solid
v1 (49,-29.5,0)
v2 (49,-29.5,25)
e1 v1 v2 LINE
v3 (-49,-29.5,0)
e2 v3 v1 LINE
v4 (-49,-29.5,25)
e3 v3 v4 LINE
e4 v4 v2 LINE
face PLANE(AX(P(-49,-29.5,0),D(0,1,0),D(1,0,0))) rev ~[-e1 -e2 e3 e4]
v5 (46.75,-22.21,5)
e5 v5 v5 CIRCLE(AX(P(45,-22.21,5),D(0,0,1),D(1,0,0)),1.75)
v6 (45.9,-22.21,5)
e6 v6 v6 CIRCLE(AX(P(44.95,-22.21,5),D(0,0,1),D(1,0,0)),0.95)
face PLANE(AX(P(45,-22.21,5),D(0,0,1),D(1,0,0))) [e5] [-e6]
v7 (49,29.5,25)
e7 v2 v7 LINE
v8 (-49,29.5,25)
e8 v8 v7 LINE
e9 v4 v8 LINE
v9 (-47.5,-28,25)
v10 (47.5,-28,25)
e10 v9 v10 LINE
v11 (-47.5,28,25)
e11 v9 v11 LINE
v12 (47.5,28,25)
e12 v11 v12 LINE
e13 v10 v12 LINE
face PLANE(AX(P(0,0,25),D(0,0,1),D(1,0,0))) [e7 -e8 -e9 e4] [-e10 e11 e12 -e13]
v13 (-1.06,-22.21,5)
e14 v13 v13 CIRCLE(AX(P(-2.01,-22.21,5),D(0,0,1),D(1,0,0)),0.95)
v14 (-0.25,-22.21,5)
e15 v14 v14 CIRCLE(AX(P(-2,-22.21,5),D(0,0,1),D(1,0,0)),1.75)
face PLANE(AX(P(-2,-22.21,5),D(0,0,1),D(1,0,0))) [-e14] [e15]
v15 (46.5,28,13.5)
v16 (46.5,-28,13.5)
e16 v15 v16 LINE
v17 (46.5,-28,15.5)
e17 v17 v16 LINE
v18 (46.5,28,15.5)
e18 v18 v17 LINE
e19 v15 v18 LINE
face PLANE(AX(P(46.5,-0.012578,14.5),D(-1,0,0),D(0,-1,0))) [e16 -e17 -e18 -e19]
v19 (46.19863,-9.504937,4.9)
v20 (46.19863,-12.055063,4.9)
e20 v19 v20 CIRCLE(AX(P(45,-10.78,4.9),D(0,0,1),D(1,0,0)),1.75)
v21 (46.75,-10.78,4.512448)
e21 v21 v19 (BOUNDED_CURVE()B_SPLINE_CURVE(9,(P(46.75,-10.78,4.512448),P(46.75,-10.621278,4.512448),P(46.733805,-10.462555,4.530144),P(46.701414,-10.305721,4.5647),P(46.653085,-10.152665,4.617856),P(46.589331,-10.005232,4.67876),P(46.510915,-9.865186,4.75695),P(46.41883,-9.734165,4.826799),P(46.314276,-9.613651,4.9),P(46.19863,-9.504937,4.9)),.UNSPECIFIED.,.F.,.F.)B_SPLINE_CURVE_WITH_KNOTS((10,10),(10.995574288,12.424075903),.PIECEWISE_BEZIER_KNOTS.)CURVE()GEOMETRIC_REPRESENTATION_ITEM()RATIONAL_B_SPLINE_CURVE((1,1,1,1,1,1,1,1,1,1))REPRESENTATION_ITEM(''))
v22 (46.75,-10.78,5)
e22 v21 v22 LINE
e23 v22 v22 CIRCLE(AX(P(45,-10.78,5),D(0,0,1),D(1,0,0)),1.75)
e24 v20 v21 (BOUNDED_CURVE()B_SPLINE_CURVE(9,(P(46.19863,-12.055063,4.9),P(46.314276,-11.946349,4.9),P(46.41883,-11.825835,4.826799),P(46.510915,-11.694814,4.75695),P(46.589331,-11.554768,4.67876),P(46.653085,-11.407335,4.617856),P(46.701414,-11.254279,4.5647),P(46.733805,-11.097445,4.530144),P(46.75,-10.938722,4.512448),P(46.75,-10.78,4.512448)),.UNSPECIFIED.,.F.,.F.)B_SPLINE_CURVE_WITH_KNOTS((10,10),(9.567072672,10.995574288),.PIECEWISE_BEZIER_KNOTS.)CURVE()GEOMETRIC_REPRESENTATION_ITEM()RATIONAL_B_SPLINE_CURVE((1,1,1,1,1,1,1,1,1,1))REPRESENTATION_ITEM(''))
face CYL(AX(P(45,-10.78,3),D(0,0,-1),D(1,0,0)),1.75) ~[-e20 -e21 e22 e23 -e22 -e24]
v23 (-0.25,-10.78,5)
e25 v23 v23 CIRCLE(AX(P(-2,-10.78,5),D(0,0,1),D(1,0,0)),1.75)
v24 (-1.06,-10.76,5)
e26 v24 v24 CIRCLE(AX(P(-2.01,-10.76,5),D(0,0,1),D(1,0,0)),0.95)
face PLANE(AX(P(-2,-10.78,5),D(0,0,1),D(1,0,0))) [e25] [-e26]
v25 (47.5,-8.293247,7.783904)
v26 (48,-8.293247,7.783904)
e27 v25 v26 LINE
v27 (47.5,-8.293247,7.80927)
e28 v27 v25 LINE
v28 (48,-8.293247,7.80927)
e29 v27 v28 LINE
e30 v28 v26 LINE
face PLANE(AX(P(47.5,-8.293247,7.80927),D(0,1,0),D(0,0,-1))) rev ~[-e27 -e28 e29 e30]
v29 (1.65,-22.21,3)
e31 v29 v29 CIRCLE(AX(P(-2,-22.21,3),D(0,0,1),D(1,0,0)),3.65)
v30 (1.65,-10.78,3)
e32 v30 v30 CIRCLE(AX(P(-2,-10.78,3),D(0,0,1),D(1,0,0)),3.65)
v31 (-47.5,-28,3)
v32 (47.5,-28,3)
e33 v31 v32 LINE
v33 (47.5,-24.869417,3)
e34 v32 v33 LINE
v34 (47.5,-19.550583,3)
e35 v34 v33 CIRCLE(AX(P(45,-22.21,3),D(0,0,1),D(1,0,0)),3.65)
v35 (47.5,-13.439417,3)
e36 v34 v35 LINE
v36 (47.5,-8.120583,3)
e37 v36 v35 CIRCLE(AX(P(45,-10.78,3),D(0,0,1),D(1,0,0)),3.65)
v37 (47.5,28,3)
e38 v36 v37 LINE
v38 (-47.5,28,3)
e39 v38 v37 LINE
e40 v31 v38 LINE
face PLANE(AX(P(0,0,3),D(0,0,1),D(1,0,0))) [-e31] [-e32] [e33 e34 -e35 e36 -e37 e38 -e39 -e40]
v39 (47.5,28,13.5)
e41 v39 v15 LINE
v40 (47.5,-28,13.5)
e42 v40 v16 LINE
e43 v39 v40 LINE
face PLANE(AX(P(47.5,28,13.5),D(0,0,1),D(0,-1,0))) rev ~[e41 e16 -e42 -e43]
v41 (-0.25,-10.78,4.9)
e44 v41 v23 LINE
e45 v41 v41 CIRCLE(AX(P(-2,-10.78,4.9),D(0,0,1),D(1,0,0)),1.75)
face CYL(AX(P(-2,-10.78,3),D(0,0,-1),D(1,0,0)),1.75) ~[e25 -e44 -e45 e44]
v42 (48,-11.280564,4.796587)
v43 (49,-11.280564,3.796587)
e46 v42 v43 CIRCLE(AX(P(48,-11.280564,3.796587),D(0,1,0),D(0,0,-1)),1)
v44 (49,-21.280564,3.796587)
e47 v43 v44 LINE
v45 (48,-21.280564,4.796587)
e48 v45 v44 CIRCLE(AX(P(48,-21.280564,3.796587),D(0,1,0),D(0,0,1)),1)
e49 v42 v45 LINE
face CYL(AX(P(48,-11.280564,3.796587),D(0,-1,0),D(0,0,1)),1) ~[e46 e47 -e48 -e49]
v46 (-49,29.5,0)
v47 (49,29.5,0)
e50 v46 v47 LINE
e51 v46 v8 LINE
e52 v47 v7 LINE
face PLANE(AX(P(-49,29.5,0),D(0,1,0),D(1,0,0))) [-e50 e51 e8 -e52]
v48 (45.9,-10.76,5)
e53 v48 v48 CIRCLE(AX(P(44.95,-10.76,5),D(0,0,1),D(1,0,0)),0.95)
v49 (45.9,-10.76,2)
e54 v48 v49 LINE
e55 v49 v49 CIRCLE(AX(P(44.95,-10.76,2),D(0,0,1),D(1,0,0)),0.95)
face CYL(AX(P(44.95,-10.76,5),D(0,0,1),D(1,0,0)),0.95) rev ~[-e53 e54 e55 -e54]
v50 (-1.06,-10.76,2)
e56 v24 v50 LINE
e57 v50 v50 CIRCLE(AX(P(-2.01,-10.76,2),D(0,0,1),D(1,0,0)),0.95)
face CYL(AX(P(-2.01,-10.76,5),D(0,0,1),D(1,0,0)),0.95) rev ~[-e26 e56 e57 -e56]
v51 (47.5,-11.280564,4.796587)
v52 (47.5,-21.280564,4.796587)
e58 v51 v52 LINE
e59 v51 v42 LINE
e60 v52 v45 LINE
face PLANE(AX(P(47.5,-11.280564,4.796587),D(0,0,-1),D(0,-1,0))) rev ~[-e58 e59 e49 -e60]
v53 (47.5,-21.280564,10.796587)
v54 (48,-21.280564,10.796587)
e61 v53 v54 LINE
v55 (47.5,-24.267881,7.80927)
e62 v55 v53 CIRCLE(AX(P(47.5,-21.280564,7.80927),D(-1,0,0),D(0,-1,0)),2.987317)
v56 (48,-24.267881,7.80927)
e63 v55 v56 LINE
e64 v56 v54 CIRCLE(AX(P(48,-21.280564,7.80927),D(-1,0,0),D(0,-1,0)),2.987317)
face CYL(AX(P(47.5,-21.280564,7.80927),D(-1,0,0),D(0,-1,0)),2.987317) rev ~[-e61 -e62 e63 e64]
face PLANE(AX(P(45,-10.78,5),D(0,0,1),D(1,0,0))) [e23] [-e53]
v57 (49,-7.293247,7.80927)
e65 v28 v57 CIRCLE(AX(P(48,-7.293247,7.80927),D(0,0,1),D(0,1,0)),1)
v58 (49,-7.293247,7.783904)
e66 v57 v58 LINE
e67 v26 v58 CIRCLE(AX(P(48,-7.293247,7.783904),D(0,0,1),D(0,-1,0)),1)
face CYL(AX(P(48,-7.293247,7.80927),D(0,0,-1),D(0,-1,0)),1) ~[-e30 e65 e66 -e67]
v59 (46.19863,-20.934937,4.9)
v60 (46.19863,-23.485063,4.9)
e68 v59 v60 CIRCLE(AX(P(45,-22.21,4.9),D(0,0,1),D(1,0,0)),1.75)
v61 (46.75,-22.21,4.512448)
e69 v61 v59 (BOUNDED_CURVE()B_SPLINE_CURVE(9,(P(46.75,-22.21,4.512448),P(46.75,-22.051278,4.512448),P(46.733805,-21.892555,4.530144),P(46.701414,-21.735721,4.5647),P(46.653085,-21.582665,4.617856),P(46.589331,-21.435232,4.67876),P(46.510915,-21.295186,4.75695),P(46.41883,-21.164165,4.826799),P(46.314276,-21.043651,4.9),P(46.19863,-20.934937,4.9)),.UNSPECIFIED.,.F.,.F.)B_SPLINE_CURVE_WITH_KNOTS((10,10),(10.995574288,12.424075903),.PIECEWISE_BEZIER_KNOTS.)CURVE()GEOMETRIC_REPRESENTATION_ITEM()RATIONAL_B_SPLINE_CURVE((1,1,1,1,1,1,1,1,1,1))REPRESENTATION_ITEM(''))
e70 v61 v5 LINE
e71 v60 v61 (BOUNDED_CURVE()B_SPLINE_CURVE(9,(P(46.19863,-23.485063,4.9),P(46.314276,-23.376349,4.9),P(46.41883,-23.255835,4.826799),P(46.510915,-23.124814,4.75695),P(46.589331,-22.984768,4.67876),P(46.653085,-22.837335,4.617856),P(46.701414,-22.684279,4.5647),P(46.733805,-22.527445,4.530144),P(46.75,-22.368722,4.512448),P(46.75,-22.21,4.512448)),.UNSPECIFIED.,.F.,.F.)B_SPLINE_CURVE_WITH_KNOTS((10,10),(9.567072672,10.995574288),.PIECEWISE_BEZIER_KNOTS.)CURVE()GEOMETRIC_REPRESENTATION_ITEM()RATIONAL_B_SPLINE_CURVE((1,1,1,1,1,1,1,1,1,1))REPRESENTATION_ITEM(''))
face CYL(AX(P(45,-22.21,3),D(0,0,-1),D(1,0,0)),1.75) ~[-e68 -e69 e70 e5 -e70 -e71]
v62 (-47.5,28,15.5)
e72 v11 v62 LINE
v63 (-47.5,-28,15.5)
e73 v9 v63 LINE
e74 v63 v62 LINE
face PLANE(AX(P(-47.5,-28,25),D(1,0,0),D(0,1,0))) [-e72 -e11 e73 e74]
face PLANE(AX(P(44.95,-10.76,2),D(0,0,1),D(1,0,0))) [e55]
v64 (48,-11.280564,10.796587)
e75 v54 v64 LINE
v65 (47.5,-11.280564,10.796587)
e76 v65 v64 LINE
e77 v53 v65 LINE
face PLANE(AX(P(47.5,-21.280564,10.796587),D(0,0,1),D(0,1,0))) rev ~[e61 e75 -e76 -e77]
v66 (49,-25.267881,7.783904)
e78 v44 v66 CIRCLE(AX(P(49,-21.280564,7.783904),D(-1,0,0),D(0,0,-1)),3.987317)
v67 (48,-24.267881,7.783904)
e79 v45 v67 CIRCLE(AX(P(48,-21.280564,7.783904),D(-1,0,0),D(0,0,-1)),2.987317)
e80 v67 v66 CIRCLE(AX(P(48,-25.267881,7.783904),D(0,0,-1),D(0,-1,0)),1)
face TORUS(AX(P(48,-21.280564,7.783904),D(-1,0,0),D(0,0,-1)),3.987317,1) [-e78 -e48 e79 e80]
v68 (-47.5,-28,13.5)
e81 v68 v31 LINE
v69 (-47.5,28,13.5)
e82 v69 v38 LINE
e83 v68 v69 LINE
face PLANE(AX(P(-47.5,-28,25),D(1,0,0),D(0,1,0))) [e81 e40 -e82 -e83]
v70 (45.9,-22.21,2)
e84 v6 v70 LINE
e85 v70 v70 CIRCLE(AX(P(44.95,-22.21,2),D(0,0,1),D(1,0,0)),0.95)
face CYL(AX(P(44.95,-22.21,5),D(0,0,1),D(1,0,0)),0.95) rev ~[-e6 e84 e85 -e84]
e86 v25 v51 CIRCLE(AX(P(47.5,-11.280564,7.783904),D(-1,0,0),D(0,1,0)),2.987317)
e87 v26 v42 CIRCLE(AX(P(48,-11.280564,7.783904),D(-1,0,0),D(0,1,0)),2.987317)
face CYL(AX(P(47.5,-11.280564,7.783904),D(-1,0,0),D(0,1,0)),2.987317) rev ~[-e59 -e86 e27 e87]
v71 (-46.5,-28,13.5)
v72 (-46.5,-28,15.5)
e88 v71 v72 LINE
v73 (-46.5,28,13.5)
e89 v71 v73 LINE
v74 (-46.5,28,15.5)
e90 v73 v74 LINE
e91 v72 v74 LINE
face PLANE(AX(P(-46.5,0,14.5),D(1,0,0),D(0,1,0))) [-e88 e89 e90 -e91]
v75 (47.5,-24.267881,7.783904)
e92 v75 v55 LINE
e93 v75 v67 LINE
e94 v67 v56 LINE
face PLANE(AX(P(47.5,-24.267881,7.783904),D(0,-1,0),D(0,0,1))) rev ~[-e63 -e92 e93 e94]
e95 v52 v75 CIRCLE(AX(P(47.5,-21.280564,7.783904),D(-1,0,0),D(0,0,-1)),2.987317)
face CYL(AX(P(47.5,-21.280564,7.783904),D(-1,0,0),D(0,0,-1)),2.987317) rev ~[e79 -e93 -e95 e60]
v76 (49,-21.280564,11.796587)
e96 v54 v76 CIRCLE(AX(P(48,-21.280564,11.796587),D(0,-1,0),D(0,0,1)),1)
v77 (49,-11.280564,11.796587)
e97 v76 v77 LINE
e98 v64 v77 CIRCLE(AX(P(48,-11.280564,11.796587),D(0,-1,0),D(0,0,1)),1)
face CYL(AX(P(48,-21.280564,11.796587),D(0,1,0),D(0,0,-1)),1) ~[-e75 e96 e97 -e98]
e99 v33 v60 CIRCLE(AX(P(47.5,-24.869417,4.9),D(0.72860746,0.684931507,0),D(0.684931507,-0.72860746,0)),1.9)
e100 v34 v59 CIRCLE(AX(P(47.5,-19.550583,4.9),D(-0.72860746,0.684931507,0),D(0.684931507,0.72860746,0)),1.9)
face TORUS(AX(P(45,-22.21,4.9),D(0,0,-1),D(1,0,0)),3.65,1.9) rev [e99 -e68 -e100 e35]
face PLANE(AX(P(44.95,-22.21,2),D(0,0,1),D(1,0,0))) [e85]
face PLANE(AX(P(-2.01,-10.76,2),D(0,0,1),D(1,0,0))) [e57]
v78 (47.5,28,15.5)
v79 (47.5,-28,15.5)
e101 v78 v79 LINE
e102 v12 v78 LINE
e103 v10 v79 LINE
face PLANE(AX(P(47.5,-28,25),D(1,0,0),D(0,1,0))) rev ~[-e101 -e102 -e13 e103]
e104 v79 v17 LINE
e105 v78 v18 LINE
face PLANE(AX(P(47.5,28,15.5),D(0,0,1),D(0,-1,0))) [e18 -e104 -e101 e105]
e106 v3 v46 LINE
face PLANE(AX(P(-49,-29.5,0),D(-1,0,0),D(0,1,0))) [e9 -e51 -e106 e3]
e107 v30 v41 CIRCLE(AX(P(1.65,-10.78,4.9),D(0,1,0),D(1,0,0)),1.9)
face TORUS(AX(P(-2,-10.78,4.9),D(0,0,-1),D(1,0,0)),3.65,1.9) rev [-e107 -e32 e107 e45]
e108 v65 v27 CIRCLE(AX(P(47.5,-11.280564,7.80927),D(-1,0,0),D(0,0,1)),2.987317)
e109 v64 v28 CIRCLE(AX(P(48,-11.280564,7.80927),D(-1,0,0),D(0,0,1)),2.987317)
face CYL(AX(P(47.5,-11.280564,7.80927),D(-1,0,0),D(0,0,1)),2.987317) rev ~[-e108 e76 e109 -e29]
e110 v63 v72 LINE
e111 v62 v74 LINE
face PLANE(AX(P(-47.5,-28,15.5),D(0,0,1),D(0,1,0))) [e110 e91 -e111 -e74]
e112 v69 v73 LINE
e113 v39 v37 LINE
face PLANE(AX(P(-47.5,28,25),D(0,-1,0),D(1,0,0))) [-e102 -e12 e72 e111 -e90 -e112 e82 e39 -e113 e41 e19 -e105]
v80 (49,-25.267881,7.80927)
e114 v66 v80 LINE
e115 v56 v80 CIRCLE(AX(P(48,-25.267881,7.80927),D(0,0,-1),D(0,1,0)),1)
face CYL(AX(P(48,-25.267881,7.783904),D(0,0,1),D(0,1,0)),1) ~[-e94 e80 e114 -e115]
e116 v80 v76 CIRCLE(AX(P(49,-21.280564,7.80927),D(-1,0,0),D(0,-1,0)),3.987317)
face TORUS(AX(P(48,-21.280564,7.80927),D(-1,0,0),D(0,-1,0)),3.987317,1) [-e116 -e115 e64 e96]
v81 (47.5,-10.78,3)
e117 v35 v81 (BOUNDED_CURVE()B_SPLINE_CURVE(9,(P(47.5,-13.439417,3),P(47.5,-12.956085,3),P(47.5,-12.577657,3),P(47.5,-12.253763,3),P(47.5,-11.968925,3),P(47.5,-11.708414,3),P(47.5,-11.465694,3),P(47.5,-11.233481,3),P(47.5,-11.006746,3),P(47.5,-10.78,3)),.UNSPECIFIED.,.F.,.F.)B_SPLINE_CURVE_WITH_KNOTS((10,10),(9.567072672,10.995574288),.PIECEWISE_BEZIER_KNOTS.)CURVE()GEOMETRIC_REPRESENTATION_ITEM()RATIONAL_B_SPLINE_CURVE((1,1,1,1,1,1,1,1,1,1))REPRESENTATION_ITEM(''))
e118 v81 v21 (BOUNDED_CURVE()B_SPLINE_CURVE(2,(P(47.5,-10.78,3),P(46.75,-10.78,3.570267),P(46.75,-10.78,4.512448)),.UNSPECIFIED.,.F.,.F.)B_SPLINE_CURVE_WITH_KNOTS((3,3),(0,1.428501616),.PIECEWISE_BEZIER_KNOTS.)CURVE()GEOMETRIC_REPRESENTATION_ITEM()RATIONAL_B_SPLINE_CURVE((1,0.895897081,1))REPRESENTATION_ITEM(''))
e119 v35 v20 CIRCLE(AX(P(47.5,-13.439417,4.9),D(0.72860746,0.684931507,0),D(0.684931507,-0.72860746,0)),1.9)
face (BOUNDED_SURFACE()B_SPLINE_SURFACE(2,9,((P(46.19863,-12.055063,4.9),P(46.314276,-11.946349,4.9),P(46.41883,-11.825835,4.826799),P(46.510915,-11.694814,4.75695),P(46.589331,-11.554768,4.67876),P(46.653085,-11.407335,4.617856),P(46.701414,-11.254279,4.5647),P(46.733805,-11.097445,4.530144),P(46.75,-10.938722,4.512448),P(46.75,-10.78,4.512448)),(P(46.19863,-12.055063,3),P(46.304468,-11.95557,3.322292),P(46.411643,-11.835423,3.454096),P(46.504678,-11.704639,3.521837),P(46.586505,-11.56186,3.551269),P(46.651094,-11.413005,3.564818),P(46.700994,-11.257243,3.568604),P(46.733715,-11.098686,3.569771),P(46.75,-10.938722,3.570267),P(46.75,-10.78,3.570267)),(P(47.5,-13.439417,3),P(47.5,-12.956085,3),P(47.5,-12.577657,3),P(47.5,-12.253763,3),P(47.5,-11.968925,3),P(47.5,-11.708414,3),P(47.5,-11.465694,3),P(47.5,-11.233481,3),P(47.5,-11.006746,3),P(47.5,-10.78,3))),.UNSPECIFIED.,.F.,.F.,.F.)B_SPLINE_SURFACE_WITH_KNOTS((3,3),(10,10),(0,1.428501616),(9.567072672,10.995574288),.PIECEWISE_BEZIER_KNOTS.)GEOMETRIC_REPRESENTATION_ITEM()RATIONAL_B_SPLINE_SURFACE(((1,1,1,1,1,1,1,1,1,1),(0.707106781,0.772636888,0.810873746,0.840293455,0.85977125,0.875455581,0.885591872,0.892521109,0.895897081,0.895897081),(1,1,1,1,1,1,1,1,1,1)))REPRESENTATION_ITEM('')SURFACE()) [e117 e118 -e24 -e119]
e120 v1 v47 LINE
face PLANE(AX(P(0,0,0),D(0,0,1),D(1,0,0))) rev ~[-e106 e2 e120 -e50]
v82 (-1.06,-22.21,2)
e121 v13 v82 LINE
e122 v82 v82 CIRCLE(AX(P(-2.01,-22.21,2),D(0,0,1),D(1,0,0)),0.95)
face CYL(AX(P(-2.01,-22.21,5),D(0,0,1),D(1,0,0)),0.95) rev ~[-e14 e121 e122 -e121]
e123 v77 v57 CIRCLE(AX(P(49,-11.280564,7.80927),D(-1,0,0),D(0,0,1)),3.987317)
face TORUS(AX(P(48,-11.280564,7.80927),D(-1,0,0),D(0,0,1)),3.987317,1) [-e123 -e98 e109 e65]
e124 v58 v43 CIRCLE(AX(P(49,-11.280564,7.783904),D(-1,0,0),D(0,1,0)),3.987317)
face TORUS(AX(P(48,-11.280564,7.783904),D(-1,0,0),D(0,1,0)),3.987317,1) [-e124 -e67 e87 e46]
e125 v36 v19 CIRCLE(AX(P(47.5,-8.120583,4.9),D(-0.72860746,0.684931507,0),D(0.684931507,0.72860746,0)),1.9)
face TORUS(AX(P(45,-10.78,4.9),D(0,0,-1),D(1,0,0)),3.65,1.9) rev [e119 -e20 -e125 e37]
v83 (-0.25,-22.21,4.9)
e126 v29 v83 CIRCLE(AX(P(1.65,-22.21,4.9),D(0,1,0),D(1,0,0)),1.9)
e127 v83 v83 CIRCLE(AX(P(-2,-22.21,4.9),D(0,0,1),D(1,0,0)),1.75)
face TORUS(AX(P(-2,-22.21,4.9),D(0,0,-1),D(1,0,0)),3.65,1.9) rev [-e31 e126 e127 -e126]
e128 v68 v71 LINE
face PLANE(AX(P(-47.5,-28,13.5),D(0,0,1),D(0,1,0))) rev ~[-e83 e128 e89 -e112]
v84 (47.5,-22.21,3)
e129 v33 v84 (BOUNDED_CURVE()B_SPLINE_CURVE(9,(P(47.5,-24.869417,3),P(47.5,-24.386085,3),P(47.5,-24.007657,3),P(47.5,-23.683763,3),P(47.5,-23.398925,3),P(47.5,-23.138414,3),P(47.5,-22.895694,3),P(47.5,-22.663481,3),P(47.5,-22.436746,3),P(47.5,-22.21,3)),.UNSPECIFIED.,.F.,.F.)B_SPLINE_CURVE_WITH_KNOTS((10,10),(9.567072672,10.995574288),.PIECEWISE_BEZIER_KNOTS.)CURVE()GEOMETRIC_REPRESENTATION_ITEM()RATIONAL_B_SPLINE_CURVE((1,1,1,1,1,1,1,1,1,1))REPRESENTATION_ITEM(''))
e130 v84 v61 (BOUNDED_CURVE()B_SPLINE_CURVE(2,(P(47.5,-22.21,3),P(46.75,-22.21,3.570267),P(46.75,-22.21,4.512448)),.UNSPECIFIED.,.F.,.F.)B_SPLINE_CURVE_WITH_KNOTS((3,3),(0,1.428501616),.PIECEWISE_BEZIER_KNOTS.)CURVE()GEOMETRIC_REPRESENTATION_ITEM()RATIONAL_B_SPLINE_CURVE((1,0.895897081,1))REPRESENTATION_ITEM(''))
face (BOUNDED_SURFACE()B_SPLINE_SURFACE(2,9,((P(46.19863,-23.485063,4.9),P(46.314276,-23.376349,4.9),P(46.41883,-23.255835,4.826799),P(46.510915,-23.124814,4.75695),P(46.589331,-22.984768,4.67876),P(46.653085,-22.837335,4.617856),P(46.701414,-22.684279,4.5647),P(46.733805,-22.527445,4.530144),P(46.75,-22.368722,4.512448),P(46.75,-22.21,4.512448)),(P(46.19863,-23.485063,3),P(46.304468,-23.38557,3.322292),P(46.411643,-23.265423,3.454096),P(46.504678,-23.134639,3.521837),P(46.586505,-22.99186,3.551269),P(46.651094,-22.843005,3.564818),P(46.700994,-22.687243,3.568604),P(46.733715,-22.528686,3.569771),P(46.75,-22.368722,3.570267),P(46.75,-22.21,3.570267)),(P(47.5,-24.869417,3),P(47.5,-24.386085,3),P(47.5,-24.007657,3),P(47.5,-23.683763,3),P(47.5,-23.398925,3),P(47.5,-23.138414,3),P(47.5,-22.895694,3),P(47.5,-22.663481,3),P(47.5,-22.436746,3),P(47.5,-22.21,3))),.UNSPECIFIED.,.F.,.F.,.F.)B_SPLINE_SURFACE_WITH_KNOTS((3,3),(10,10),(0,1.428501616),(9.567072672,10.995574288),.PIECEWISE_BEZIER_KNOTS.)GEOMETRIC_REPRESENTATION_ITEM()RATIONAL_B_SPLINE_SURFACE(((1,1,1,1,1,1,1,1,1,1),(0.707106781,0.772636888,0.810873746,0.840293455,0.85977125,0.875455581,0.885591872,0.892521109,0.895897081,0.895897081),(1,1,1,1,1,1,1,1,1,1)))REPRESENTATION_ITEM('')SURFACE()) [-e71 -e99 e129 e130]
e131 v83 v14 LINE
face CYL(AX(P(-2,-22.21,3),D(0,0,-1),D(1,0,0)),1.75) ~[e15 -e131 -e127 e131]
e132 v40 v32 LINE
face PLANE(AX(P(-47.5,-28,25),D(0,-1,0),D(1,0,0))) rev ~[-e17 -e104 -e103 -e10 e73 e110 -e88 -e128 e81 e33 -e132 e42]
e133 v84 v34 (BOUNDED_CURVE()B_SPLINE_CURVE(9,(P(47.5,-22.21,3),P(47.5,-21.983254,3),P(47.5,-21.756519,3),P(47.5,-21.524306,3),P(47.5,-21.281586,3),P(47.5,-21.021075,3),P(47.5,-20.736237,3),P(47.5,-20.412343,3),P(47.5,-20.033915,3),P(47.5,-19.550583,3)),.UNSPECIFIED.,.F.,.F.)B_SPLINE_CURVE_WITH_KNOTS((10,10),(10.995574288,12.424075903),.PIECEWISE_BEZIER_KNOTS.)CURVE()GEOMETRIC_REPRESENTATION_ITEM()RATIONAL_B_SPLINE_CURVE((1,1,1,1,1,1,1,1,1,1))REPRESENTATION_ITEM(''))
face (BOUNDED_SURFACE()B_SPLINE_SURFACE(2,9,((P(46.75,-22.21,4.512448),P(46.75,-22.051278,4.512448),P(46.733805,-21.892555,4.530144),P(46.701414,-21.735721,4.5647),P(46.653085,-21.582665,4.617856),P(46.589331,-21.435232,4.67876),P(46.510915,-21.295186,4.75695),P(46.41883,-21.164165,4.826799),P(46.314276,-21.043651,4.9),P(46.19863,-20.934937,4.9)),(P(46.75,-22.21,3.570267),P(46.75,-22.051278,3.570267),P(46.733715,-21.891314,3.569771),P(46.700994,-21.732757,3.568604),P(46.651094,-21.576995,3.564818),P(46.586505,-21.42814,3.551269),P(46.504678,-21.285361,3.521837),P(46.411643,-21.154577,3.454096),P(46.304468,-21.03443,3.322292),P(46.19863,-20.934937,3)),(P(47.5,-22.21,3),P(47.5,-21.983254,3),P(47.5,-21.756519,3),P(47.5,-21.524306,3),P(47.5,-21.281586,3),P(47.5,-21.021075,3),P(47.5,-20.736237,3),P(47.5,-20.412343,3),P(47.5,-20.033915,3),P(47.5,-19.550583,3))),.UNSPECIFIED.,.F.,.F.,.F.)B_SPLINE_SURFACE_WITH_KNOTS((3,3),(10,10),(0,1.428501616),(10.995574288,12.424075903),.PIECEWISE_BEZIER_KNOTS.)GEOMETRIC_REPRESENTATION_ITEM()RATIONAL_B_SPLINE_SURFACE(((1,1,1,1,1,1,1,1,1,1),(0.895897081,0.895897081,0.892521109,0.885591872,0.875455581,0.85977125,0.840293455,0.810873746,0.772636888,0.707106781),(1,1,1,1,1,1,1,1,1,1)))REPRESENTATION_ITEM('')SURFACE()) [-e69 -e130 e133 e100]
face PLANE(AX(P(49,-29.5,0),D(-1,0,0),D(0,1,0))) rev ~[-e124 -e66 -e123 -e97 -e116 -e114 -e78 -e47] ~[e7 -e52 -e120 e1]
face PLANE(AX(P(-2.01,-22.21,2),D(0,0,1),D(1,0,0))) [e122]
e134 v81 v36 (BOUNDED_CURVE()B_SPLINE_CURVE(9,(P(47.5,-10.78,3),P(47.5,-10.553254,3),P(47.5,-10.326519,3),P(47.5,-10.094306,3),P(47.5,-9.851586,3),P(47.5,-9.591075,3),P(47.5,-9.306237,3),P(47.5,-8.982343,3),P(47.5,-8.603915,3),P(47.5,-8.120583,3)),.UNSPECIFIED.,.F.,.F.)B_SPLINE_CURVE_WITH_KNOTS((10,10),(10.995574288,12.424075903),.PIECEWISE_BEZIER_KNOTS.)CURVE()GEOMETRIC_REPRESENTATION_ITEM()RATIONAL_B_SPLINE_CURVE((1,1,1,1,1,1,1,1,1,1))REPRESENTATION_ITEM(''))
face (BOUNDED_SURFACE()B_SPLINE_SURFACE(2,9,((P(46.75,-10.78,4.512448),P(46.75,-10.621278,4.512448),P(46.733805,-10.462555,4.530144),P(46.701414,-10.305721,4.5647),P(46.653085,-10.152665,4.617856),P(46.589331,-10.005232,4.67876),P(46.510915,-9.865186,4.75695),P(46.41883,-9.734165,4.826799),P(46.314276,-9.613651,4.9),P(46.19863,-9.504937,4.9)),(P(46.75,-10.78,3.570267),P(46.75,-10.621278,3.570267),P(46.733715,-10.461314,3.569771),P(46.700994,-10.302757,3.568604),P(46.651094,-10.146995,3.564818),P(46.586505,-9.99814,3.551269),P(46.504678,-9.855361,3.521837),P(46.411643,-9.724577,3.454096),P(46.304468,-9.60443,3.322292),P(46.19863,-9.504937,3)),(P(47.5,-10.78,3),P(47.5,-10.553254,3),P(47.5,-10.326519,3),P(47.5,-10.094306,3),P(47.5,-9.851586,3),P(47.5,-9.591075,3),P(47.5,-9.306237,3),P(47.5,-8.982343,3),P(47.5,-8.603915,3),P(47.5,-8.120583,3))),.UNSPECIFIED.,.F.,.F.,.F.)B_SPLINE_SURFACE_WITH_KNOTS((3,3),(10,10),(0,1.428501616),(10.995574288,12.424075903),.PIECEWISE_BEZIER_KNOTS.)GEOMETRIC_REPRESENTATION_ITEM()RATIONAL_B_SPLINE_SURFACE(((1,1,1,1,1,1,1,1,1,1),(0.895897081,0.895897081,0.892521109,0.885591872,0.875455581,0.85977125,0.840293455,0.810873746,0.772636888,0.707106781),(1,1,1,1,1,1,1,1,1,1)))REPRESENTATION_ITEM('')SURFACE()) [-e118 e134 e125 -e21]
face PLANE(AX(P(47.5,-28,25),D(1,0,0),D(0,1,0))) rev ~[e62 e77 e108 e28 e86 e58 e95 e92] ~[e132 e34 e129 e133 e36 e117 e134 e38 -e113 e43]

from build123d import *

# Parameters (mm, degrees)
SKETCH027_W     = 98
SKETCH027_H     = 59
PAD014_DEPTH    = 25
SKETCH028_W     = 95
SKETCH028_H     = 56
POCKET008_DEPTH = 22
SKETCH029_W     = 56
SKETCH029_H     = 2
PAD015_DEPTH    = 1
SKETCH030_W     = 56.025157
SKETCH030_H     = 2
PAD016_DEPTH    = 1
SKETCH031_R     = 1.75
PAD017_DEPTH    = 2
SKETCH032_R     = 0.95
POCKET009_DEPTH = 3
FILLET003_R     = 1.9
POCKET010_DEPTH = 3
FILLET004_R     = 1


with BuildPart() as part:
    # Sketch027 → Pad014 (new body)
    with BuildSketch(Plane.XY):
        Rectangle(SKETCH027_W, SKETCH027_H)
    extrude(amount=PAD014_DEPTH)

    # Sketch028 (on Face6 of Pad014) → Pocket008 (cut)
    with BuildSketch(Plane.XY.offset(25)):
        Rectangle(SKETCH028_W, SKETCH028_H)
    extrude(amount=-POCKET008_DEPTH, mode=Mode.SUBTRACT)

    # Sketch029 (on Face9 of Pocket008) → Pad015 (join)
    with BuildSketch(Plane.YZ.offset(-47.5)):
        with Locations((0, 14.5)):
            Rectangle(SKETCH029_W, SKETCH029_H)
    extrude(amount=PAD015_DEPTH)

    # Sketch030 (on Face7 of Pad015) → Pad016 (join)
    with BuildSketch(Plane(origin=(47.5, 0, 0), x_dir=(0, -1, 0), z_dir=(-1, 0, 0))):
        with Locations((0.0125785, 14.5)):
            Rectangle(SKETCH030_W, SKETCH030_H)
    extrude(amount=PAD016_DEPTH)

    # Sketch031 (on Face16 of Pad016) → Pad017 (join)
    with BuildSketch(Plane.XY.offset(3)):
        with Locations((-2, -10.78)):
            Circle(SKETCH031_R)
        with Locations((45, -10.78)):
            Circle(SKETCH031_R)
        with Locations((45, -22.21)):
            Circle(SKETCH031_R)
        with Locations((-2, -22.21)):
            Circle(SKETCH031_R)
    extrude(amount=PAD017_DEPTH)

    # Sketch032 (on Face26 of Pad017) → Pocket009 (cut)
    with BuildSketch(Plane.XY.offset(5)):
        with Locations((-2.01, -10.76)):
            Circle(SKETCH032_R)
        with Locations((-2.01, -22.21)):
            Circle(SKETCH032_R)
        with Locations((44.95, -22.21)):
            Circle(SKETCH032_R)
        with Locations((44.95, -10.76)):
            Circle(SKETCH032_R)
    extrude(amount=-POCKET009_DEPTH, mode=Mode.SUBTRACT)

    # Fillet003
    fillet003_edges = [part.edges().sort_by_distance(p)[0] for p in [
        (-3.75, -10.78, 3),
        (-3.75, -22.21, 3),
        (43.25, -10.78, 3),
        (43.25, -22.21, 3),
    ]]
    fillet(fillet003_edges, radius=FILLET003_R)

    # Sketch033 (on Face2 of Fillet003) → Pocket010 (cut)
    with BuildSketch(Plane(origin=(47.5, 0, 0), x_dir=(0, -1, 0), z_dir=(-1, 0, 0))):
        with BuildLine():
            Line((8.293246951, 7.809269951), (8.293246951, 7.783904049))
            ThreePointArc((8.293246951, 7.783904049), (9.1682118571, 5.6715519061), (11.280564, 4.796587))
            Line((11.280564, 4.796587), (21.280564, 4.796587))
            ThreePointArc((21.280564, 4.796587), (23.3929161429, 5.6715519061), (24.267881049, 7.783904049))
            Line((24.267881049, 7.783904049), (24.267881049, 7.809269951))
            ThreePointArc((24.267881049, 7.809269951), (23.3929161429, 9.9216220939), (21.280564, 10.796587))
            Line((21.280564, 10.796587), (11.280564, 10.796587))
            ThreePointArc((11.280564, 10.796587), (9.1682118571, 9.9216220939), (8.293246951, 7.809269951))
        make_face()
    extrude(amount=-POCKET010_DEPTH, mode=Mode.SUBTRACT)

    # Fillet004
    fillet004_edges = [part.edges().sort_by_distance(p)[0] for p in [
        (49, -9.168212, 9.921622),
        (49, -9.168212, 5.671552),
        (49, -16.280564, 4.796587),
        (49, -16.280564, 10.796587),
        (49, -23.392916, 9.921622),
        (49, -23.392916, 5.671552),
    ]]
    fillet(fillet004_edges, radius=FILLET004_R)


solid = part.part
